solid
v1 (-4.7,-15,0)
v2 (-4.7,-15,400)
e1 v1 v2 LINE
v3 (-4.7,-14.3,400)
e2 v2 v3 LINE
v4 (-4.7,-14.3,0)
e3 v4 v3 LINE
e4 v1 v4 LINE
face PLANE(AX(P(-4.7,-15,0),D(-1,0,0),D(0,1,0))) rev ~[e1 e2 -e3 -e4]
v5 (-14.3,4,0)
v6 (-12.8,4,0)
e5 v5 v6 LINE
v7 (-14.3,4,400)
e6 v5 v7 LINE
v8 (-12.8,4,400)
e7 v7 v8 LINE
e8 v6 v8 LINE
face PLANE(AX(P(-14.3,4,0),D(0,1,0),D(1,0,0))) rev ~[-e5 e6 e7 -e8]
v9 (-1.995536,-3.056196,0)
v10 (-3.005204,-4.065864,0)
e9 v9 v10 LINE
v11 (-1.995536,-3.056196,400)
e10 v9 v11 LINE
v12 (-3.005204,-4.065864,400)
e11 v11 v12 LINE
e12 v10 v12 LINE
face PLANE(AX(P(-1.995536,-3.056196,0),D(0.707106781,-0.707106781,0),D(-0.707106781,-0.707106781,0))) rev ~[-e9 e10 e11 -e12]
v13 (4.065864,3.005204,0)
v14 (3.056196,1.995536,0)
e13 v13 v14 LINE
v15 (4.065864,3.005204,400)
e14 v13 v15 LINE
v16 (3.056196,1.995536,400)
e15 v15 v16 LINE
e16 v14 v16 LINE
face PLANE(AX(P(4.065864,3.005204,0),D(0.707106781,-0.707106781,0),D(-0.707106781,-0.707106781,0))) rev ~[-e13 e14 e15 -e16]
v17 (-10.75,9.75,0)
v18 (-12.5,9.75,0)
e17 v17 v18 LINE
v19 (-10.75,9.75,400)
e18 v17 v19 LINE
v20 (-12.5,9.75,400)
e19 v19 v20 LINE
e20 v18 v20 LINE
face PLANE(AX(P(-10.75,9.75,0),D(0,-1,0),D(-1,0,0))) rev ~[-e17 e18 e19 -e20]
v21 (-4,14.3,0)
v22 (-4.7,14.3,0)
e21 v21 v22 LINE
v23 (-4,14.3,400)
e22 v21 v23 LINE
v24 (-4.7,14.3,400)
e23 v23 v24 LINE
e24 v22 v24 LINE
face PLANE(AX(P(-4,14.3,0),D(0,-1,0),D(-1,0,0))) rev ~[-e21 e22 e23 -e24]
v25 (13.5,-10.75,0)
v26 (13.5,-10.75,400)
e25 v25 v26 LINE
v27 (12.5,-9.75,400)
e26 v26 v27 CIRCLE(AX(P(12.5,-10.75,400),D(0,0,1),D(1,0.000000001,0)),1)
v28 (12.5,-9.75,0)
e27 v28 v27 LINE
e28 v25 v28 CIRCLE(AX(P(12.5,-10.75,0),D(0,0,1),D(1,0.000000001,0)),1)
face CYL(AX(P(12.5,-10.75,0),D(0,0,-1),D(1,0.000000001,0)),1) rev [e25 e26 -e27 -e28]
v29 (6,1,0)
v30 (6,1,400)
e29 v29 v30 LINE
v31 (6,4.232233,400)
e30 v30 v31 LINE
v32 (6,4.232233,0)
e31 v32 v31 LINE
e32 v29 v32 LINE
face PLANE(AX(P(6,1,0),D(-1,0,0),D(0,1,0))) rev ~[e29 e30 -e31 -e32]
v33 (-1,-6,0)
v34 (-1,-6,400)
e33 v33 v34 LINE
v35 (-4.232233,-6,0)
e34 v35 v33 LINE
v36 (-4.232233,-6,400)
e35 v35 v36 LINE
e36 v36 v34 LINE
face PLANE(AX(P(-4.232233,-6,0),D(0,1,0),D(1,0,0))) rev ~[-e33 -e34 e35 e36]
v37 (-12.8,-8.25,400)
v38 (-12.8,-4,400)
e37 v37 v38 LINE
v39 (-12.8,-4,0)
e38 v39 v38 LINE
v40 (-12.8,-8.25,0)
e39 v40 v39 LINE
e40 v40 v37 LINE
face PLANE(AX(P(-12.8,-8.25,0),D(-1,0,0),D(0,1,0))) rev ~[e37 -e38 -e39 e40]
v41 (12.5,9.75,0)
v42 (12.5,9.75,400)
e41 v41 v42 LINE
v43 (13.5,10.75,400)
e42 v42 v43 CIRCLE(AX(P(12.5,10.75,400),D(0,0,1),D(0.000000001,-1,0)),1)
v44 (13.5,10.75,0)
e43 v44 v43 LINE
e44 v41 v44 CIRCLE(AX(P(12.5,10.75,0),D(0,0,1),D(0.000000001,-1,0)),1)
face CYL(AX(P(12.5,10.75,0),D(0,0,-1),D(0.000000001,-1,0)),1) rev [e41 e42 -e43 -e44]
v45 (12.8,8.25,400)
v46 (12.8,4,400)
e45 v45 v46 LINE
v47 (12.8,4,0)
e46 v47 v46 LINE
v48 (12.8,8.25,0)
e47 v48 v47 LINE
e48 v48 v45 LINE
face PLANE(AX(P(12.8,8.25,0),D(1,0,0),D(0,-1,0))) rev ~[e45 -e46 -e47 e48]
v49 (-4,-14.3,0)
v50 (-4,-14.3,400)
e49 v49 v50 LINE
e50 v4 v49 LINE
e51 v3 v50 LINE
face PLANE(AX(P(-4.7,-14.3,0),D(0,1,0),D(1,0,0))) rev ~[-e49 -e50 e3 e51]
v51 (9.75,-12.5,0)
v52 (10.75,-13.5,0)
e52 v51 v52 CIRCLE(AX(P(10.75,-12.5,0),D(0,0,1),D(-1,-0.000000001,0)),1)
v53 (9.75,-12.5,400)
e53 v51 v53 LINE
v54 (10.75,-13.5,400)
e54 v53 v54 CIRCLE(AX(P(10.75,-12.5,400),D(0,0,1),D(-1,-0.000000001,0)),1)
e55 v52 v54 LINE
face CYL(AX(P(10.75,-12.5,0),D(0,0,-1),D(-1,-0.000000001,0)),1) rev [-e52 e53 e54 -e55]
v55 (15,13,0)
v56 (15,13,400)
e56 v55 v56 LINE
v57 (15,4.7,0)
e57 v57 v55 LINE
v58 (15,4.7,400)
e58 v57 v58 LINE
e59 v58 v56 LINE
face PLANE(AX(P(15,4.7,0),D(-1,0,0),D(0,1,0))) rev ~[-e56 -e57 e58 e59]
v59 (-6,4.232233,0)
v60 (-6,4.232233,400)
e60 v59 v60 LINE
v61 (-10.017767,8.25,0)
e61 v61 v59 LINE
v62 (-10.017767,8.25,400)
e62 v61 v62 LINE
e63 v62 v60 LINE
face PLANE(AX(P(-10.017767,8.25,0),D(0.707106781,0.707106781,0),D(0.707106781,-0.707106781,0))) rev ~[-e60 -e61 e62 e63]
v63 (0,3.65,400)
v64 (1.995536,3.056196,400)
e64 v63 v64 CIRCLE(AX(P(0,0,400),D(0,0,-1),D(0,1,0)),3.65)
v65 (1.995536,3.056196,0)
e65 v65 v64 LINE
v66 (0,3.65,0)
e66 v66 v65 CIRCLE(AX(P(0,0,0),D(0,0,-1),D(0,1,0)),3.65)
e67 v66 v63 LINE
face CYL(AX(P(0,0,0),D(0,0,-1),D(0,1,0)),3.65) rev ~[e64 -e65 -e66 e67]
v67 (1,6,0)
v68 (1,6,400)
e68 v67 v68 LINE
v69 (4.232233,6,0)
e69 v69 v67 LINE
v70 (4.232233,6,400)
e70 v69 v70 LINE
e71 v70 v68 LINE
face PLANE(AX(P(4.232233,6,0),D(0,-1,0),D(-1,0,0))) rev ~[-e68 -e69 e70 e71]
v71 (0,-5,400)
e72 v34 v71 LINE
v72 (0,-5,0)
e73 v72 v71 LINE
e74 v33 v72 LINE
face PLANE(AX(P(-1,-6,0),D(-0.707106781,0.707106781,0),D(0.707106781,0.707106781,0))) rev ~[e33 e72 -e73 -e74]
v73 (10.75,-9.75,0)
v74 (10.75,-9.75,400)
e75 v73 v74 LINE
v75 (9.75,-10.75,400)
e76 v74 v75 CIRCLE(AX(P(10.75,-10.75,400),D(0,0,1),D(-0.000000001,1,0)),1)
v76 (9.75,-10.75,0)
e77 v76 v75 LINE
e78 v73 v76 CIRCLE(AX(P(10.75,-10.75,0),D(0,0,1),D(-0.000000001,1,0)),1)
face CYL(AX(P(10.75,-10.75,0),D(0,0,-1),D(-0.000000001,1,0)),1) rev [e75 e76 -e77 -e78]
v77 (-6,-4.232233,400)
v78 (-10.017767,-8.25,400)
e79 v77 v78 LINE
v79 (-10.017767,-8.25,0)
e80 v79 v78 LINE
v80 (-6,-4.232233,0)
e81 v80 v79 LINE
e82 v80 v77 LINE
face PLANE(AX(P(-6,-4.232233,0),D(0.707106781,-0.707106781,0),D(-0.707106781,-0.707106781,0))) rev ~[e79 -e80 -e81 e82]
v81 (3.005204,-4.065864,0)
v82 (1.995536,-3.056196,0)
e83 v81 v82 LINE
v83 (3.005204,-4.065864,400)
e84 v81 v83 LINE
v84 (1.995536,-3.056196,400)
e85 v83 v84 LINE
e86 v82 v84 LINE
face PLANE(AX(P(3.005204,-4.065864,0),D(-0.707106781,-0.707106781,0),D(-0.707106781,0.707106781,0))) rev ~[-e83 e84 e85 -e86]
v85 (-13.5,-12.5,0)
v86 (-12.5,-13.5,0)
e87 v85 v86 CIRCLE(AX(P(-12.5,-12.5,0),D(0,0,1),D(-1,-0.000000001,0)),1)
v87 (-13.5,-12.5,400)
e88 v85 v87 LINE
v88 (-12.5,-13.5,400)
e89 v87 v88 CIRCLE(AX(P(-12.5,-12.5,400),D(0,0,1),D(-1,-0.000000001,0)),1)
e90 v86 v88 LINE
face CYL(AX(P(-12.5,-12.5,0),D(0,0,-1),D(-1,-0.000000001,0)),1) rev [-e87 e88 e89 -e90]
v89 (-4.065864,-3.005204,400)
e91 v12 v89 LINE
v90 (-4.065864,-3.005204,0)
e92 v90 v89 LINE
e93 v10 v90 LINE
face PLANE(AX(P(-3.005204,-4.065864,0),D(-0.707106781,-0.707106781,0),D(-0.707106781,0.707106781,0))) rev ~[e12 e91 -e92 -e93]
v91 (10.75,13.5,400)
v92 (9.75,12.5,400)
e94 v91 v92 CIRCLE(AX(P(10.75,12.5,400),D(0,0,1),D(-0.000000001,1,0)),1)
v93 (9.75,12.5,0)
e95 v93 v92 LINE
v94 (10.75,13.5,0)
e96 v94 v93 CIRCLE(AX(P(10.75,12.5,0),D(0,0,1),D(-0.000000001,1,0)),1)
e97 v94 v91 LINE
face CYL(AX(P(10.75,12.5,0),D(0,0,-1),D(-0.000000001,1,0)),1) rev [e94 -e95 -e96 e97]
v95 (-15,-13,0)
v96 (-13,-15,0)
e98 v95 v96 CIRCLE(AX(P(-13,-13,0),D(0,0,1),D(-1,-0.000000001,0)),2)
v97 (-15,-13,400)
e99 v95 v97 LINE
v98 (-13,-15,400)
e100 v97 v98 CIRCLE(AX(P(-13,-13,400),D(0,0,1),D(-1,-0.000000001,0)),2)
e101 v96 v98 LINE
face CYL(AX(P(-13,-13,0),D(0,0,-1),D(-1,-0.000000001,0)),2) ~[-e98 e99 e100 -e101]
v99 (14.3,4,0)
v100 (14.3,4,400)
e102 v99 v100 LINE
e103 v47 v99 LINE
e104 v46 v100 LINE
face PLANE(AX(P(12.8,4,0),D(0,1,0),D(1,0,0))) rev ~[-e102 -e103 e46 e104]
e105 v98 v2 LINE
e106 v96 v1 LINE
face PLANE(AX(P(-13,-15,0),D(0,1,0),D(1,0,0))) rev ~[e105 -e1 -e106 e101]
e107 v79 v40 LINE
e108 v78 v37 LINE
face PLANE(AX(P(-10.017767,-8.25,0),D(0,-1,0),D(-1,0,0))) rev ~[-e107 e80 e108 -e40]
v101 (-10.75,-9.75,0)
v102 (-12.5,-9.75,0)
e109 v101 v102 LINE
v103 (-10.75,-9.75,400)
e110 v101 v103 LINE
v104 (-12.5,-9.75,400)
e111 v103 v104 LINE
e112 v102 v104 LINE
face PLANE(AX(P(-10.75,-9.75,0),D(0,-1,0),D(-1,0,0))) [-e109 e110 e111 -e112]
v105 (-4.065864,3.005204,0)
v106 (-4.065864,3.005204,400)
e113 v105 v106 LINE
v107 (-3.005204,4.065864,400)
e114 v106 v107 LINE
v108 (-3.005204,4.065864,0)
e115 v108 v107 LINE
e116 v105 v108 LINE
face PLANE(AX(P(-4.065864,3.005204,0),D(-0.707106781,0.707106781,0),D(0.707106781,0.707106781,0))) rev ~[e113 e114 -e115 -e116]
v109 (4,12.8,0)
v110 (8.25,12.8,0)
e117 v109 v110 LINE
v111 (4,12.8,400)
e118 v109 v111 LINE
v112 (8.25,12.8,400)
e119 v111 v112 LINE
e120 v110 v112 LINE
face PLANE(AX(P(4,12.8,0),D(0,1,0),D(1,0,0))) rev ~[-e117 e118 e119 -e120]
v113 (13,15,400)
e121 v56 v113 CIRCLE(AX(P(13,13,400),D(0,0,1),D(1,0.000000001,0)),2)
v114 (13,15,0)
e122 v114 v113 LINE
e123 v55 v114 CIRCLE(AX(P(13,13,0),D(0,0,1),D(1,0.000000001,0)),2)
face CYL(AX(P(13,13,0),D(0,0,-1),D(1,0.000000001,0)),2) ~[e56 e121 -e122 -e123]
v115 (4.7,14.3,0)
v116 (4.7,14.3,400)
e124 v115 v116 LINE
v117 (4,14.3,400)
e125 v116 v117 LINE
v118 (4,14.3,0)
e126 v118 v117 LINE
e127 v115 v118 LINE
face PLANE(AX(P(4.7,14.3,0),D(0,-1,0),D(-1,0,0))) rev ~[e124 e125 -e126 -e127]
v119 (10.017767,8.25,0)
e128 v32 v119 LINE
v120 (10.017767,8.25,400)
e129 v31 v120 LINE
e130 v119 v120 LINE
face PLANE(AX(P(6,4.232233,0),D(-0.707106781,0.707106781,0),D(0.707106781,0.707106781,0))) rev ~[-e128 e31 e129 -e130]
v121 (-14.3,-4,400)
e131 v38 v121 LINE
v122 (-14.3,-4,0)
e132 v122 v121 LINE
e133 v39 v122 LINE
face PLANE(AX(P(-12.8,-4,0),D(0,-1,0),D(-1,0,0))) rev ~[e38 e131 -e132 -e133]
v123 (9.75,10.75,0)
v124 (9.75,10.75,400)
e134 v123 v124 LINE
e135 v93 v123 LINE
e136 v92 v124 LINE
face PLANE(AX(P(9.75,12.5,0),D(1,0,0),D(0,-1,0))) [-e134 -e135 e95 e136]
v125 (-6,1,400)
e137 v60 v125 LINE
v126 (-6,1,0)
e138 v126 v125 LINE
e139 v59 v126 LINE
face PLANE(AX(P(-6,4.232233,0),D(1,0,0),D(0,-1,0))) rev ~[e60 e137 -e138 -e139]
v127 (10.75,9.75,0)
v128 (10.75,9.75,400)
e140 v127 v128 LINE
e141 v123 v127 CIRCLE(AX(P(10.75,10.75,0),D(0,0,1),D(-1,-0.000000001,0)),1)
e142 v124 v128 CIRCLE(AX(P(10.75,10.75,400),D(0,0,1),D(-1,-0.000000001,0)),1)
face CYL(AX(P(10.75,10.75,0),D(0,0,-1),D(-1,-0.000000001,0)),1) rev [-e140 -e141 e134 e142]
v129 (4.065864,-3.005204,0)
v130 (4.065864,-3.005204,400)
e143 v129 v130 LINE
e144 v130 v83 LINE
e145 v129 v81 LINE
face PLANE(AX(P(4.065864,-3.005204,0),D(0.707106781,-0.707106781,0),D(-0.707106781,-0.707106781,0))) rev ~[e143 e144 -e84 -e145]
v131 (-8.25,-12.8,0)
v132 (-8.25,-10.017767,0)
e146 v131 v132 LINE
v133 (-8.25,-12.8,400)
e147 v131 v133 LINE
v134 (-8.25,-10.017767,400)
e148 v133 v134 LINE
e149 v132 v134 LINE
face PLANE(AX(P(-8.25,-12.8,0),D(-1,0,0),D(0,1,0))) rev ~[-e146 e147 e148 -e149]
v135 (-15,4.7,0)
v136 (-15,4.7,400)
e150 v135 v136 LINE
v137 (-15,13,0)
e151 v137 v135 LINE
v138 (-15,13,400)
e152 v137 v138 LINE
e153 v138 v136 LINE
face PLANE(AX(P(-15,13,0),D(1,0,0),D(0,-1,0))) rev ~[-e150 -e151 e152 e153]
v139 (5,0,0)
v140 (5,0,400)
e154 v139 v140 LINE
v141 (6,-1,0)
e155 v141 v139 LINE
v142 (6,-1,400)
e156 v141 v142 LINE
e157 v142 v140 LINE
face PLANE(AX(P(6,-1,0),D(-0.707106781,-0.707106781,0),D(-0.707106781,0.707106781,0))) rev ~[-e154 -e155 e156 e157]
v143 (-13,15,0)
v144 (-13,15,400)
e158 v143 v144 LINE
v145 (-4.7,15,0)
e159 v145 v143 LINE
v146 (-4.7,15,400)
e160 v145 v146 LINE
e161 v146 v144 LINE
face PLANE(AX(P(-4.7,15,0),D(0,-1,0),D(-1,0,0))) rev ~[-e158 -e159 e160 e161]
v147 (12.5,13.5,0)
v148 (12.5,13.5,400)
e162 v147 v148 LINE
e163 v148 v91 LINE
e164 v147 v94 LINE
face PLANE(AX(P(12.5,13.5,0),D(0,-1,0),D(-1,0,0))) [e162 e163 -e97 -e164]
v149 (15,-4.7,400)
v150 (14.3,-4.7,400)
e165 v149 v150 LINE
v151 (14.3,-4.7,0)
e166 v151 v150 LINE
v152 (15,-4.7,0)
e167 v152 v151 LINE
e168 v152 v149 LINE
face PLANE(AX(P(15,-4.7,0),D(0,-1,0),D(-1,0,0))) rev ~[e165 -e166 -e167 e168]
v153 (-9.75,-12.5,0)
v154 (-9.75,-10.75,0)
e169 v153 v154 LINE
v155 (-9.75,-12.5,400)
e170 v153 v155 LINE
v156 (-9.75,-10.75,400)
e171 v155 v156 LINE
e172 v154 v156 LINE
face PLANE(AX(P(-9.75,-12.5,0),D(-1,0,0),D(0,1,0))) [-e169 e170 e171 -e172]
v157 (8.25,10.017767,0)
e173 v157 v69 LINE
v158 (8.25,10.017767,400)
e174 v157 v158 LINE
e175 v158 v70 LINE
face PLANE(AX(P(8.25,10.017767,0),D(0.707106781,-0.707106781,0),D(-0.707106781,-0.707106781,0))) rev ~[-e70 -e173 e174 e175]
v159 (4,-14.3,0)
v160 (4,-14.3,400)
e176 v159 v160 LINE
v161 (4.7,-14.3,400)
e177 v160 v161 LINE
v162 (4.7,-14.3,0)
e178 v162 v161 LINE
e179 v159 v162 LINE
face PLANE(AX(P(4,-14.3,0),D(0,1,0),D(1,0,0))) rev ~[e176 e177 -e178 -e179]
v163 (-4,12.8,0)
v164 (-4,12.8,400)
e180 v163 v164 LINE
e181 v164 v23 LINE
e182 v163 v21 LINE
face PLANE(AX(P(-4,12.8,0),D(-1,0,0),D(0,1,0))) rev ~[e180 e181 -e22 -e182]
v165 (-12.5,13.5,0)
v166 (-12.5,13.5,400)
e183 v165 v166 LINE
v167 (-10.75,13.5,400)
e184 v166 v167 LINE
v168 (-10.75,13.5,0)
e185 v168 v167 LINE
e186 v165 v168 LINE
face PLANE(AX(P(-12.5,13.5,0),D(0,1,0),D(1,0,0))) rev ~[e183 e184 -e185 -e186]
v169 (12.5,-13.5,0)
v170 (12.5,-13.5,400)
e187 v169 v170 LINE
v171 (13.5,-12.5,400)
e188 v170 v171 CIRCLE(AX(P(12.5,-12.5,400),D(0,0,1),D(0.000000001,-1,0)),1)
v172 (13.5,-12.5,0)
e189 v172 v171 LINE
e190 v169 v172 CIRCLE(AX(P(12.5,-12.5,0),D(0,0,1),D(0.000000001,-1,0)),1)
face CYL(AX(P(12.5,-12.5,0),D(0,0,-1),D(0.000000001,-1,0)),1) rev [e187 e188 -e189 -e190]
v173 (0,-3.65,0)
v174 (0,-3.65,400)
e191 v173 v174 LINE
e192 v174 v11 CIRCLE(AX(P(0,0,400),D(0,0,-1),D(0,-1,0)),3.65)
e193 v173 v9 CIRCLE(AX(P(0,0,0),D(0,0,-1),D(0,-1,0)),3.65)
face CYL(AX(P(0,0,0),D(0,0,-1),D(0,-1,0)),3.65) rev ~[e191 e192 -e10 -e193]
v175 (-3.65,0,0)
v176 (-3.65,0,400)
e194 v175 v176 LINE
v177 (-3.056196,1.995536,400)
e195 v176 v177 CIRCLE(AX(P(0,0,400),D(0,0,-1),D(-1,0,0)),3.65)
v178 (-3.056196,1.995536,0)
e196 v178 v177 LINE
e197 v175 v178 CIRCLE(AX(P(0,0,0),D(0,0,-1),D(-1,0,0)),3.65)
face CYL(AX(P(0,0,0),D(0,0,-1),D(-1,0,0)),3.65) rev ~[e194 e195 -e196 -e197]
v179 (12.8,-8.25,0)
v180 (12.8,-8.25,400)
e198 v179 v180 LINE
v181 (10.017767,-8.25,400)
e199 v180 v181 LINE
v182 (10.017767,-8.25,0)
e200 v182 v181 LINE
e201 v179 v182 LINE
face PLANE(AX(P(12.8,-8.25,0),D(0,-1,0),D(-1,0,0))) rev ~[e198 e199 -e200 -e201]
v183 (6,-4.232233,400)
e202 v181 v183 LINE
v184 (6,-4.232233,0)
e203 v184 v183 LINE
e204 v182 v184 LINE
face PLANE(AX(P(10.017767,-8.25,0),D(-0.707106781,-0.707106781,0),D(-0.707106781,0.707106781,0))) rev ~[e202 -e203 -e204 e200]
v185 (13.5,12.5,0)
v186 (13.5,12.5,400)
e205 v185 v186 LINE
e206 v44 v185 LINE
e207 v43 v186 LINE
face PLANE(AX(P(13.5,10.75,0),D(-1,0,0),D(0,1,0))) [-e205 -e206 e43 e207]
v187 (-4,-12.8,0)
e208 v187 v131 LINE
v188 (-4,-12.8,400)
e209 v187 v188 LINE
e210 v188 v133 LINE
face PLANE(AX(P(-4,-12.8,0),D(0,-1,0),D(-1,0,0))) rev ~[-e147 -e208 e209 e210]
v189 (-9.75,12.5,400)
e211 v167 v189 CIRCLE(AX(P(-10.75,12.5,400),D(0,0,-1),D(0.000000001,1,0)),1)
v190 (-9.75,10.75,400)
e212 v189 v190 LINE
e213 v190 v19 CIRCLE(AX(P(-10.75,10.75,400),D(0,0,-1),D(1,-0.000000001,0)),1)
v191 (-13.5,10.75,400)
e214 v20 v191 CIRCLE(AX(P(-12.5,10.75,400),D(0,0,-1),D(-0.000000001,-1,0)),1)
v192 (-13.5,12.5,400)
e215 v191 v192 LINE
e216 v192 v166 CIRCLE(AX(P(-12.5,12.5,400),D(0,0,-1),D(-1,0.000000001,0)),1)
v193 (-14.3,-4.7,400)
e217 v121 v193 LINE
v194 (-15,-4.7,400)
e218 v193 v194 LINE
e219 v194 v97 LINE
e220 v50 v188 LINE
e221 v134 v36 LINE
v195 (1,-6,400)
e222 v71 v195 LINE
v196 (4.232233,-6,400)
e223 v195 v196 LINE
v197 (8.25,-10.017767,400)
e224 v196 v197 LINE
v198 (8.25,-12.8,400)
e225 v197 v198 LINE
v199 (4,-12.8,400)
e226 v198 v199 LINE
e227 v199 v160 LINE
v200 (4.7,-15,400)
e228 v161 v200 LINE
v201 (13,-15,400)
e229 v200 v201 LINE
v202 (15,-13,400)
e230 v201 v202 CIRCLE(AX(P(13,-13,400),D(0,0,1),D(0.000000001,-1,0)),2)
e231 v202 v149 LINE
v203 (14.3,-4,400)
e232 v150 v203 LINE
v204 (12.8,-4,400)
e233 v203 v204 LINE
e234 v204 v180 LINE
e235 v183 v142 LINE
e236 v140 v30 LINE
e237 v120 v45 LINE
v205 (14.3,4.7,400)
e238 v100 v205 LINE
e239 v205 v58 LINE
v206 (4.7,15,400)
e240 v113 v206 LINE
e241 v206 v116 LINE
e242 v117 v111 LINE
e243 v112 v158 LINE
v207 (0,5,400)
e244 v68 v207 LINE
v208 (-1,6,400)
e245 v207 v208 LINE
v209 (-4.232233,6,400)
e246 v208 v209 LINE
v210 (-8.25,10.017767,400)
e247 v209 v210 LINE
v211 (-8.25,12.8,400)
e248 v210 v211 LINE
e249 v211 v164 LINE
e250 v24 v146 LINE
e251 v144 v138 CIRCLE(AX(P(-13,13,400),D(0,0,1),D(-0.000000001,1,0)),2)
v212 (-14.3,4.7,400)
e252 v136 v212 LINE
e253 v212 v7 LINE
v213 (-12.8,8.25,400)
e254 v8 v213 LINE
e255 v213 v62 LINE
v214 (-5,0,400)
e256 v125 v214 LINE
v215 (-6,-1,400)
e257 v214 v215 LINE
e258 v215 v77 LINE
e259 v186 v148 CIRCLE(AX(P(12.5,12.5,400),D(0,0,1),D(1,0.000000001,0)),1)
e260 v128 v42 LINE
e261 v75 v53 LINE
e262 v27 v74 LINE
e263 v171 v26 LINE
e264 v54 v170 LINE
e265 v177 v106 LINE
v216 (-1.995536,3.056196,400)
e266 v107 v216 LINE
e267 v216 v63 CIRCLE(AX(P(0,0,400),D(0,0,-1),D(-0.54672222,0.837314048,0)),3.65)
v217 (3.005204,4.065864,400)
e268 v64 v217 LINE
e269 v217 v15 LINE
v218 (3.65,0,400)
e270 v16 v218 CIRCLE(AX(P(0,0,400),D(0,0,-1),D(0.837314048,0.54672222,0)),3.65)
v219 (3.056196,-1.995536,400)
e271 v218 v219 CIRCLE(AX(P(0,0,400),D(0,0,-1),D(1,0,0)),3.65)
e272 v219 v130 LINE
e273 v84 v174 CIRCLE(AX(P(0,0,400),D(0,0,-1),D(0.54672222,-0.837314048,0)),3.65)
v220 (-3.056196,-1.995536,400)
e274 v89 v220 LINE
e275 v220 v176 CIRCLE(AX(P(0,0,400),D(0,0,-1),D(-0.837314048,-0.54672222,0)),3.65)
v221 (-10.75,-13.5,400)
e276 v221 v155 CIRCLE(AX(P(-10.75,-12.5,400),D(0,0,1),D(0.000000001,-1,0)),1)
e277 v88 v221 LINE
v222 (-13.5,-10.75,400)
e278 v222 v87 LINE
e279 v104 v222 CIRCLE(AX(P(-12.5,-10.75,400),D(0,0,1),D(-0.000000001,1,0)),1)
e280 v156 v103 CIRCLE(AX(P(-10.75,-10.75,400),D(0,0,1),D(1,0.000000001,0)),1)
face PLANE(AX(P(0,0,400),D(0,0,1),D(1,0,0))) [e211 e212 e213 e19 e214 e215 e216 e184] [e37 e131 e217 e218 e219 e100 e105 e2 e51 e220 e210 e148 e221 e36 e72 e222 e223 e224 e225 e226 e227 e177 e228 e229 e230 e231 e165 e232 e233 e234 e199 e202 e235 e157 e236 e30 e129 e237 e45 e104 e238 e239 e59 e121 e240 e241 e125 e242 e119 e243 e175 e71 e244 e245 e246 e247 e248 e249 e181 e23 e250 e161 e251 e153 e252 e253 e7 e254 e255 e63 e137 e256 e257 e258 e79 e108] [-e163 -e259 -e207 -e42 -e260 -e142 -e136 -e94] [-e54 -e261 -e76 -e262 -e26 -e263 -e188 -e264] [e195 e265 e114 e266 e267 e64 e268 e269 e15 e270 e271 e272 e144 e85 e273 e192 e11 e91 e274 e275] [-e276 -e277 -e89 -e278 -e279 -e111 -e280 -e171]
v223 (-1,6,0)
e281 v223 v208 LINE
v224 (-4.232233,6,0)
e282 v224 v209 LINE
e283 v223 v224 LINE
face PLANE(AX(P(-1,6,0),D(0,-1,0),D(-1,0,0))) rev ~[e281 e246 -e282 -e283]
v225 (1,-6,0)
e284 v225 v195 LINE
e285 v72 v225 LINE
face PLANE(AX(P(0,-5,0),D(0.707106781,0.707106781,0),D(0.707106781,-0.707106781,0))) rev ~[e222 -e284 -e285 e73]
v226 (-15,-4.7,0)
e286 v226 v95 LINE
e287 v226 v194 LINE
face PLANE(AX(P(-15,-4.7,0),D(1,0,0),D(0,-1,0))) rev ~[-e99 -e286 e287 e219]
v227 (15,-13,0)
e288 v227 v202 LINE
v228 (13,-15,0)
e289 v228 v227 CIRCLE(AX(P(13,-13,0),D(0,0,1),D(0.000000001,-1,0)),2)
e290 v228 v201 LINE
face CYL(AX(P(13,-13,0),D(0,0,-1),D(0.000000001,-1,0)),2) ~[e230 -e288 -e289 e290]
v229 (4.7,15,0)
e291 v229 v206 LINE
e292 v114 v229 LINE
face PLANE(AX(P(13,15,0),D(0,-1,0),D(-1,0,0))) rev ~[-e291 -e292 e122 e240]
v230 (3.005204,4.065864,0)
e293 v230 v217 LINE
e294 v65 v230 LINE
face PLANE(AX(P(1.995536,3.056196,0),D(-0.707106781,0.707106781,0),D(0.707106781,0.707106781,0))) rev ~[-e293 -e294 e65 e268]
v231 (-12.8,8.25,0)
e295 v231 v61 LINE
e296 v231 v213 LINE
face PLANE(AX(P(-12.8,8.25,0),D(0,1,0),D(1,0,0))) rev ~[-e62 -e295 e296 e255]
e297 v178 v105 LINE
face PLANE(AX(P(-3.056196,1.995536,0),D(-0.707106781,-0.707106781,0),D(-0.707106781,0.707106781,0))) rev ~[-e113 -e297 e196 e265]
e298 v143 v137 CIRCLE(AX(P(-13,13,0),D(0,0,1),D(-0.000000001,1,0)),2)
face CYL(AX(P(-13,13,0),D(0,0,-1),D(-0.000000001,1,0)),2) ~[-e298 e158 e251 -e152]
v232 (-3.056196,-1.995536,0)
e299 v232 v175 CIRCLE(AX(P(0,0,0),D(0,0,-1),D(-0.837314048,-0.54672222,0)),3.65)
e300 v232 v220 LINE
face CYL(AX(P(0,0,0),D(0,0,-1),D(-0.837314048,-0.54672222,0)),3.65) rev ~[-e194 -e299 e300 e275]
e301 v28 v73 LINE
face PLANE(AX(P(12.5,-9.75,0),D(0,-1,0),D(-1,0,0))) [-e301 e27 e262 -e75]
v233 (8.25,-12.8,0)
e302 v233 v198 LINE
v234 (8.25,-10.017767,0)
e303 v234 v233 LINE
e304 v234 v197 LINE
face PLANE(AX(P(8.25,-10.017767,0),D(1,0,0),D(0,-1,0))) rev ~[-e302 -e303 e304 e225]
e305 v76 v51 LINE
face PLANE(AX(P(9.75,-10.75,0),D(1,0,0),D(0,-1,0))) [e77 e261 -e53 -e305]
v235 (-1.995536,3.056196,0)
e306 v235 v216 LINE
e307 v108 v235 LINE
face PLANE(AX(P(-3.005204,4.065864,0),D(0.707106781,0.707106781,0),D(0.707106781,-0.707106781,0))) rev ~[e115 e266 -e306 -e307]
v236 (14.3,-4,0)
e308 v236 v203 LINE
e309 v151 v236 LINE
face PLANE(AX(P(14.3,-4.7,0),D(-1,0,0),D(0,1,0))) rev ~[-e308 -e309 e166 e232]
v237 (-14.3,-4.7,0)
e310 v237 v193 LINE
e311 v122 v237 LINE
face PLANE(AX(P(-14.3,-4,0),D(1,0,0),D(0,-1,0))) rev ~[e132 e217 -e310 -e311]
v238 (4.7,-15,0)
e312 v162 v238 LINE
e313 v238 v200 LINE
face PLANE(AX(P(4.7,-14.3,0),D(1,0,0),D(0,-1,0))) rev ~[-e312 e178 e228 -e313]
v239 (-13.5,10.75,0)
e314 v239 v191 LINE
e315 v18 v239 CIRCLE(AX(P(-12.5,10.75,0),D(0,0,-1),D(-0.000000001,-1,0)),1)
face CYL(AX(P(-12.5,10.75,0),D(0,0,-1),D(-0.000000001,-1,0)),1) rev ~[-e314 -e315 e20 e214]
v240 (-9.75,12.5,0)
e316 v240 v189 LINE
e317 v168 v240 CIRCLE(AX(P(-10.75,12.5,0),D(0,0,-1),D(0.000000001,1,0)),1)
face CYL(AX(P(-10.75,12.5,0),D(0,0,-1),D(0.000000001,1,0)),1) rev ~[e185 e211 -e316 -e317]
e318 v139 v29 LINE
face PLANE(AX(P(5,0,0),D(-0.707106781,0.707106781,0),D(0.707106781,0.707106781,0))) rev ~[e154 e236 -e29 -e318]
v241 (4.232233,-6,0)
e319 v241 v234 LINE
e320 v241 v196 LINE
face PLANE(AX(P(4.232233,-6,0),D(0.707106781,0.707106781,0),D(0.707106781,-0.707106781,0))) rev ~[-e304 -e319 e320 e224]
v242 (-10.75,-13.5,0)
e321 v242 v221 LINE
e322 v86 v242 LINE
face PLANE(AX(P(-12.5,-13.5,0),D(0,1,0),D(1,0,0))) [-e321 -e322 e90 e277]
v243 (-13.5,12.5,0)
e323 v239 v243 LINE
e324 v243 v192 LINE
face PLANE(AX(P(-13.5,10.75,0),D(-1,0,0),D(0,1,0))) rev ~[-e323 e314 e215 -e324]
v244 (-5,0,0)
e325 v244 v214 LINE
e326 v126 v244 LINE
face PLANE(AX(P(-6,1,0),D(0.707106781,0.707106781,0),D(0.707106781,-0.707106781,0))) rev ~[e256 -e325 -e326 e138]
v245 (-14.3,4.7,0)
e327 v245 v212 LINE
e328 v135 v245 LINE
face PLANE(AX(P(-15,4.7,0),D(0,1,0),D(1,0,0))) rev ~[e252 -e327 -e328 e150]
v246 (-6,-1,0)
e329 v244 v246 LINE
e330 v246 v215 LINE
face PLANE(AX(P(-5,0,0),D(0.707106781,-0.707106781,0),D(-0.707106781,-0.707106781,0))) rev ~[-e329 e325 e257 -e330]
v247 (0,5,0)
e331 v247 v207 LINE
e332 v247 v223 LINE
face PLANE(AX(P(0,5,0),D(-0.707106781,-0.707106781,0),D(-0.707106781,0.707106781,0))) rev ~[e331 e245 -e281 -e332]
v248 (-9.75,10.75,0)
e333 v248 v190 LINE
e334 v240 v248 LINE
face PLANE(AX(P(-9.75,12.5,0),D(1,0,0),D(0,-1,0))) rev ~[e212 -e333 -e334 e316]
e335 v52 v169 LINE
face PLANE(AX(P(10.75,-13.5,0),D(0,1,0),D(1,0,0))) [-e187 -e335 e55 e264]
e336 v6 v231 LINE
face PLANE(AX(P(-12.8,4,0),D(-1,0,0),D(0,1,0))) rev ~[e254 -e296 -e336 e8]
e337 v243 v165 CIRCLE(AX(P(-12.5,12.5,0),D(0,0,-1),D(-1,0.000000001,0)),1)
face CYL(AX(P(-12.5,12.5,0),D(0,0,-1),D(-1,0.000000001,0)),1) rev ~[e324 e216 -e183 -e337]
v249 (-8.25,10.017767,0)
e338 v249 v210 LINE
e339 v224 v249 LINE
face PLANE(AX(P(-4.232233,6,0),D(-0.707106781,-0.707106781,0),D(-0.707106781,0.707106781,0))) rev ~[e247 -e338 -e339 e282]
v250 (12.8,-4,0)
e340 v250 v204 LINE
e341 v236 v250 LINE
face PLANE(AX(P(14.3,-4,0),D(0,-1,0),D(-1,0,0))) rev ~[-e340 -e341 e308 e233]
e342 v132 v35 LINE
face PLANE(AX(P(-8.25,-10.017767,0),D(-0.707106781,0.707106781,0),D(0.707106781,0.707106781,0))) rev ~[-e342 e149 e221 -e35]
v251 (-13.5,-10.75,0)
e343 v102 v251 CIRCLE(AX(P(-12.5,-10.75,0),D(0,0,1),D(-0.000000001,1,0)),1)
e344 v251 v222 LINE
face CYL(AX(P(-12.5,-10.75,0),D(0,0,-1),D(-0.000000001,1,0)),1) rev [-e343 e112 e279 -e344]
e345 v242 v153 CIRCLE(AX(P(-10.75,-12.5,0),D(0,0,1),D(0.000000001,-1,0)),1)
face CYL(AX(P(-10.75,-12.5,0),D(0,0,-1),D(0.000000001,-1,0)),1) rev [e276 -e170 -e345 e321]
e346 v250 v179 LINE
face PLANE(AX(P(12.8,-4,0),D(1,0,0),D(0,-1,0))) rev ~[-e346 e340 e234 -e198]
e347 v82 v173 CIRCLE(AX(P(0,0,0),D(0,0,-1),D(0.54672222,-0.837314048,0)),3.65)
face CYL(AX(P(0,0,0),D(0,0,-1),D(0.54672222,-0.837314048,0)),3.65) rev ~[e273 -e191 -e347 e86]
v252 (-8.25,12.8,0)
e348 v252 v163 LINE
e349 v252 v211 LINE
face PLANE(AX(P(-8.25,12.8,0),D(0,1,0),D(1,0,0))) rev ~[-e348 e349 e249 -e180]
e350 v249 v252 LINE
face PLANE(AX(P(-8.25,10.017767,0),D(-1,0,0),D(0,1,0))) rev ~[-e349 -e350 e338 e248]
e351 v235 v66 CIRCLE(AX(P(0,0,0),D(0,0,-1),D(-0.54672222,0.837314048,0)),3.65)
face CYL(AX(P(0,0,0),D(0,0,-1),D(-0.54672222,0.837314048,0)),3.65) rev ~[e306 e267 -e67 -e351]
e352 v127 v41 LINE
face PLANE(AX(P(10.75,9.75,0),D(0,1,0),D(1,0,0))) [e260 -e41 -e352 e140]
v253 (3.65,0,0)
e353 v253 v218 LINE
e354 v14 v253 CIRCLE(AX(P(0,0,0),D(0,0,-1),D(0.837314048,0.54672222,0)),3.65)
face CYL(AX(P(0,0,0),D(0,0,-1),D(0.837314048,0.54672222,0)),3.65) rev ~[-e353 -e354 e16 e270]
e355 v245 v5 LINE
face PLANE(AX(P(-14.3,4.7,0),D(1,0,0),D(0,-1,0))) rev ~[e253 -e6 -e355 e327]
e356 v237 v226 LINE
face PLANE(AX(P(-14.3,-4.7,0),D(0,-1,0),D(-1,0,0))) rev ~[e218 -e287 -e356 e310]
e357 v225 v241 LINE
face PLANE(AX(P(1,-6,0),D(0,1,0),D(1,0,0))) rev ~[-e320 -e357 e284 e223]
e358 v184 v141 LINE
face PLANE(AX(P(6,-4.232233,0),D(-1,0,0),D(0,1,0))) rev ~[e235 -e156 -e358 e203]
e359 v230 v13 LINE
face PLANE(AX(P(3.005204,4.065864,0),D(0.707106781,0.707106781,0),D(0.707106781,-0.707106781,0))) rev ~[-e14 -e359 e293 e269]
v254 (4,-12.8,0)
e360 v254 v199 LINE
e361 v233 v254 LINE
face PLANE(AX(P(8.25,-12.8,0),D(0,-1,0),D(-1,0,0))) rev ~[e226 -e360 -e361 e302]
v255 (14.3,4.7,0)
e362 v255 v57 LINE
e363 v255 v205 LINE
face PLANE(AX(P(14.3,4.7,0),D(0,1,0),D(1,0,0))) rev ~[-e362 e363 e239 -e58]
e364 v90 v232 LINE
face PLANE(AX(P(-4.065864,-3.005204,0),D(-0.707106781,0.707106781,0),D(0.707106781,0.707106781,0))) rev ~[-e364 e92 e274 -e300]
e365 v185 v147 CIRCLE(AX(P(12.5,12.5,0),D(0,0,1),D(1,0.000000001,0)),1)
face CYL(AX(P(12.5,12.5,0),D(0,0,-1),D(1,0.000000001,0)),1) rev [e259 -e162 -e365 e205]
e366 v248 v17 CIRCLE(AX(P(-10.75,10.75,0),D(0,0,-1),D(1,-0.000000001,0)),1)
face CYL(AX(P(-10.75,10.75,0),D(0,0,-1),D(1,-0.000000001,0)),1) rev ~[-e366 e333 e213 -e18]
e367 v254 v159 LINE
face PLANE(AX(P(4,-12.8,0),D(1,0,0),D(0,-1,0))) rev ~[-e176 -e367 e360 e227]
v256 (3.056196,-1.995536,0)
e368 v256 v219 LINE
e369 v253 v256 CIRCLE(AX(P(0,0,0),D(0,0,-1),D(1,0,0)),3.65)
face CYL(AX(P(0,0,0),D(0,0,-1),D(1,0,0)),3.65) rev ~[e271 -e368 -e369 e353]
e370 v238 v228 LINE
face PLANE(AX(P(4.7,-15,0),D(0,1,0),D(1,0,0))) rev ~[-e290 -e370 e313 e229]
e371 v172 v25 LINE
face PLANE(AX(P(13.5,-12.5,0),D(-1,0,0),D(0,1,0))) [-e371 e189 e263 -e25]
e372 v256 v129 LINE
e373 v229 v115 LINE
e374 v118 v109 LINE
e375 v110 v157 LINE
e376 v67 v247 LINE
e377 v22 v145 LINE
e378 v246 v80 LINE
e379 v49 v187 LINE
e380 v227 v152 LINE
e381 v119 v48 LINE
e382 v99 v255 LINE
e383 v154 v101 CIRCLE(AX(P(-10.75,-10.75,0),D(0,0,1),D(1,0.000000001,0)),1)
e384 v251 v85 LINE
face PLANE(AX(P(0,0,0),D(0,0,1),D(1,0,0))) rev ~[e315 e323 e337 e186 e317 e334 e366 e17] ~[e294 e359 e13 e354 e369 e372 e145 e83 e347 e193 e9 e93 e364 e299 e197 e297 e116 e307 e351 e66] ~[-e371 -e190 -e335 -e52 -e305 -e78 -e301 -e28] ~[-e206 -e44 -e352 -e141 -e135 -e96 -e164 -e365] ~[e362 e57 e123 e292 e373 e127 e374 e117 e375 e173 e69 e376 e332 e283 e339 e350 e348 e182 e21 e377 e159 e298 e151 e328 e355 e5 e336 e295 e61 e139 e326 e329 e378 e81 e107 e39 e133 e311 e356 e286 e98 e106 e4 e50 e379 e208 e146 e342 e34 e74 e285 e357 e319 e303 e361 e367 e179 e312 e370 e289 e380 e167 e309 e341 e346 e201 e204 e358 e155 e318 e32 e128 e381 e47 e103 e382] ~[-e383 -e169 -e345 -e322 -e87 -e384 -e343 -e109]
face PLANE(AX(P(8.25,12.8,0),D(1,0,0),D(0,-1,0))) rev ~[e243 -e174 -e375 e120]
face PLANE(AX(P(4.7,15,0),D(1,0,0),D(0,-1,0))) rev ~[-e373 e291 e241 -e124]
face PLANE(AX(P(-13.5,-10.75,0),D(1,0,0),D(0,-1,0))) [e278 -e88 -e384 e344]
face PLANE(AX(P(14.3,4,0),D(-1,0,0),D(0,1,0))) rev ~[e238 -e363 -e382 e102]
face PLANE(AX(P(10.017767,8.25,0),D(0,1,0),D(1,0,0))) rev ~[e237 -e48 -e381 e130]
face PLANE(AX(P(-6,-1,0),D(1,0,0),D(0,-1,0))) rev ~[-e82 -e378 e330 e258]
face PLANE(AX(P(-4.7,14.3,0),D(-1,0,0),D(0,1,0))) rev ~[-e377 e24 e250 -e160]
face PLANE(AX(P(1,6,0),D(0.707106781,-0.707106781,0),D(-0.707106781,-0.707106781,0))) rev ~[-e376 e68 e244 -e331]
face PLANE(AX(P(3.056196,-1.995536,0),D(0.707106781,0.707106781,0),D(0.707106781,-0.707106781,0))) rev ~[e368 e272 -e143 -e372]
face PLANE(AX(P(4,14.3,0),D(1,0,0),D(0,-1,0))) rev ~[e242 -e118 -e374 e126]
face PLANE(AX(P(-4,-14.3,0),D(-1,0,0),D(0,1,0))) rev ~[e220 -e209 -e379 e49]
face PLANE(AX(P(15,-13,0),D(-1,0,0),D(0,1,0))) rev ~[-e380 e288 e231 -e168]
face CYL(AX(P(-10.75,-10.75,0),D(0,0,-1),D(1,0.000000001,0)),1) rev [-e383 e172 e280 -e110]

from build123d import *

# Parameters (mm, degrees)
ESTRUSIONE_ESTRUSIONE2_DEPTH = 400


with BuildPart() as part:
    # Schizzo1 → Estrusione-Estrusione2 (new body)
    with BuildSketch(Plane.XY):
        with BuildLine():
            Line((-15, 13), (-15, 4.7))
            Line((-15, 4.7), (-14.3, 4.7))
            Line((-14.3, 4.7), (-14.3, 4))
            Line((-14.3, 4), (-12.8, 4))
            Line((-12.8, 4), (-12.8, 8.25))
            Line((-12.8, 8.25), (-10.017766953, 8.25))
            Line((-10.017766953, 8.25), (-6, 4.232233047))
            Line((-6, 4.232233047), (-6, 1))
            Line((-6, 1), (-5, 0))
            Line((-5, 0), (-6, -1))
            Line((-6, -1), (-6, -4.232233047))
            Line((-6, -4.232233047), (-10.017766953, -8.25))
            Line((-10.017766953, -8.25), (-12.8, -8.25))
            Line((-12.8, -8.25), (-12.8, -4))
            Line((-12.8, -4), (-14.3, -4))
            Line((-14.3, -4), (-14.3, -4.7))
            Line((-14.3, -4.7), (-15, -4.7))
            Line((-15, -4.7), (-15, -13))
            ThreePointArc((-15, -13), (-14.414213562, -14.414213562), (-13, -15))
            Line((-13, -15), (-4.7, -15))
            Line((-4.7, -15), (-4.7, -14.3))
            Line((-4.7, -14.3), (-4, -14.3))
            Line((-4, -14.3), (-4, -12.8))
            Line((-4, -12.8), (-8.25, -12.8))
            Line((-8.25, -12.8), (-8.25, -10.017766953))
            Line((-8.25, -10.017766953), (-4.232233047, -6))
            Line((-4.232233047, -6), (-1, -6))
            Line((-1, -6), (0, -5))
            Line((0, -5), (1, -6))
            Line((1, -6), (4.232233047, -6))
            Line((4.232233047, -6), (8.25, -10.017766953))
            Line((8.25, -10.017766953), (8.25, -12.8))
            Line((8.25, -12.8), (4, -12.8))
            Line((4, -12.8), (4, -14.3))
            Line((4, -14.3), (4.7, -14.3))
            Line((4.7, -14.3), (4.7, -15))
            Line((4.7, -15), (13, -15))
            ThreePointArc((13, -15), (14.414213562, -14.414213562), (15, -13))
            Line((15, -13), (15, -4.7))
            Line((15, -4.7), (14.3, -4.7))
            Line((14.3, -4.7), (14.3, -4))
            Line((14.3, -4), (12.8, -4))
            Line((12.8, -4), (12.8, -8.25))
            Line((12.8, -8.25), (10.017766953, -8.25))
            Line((10.017766953, -8.25), (6, -4.232233047))
            Line((6, -4.232233047), (6, -1))
            Line((6, -1), (5, 0))
            Line((5, 0), (6, 1))
            Line((6, 1), (6, 4.232233047))
            Line((6, 4.232233047), (10.017766953, 8.25))
            Line((10.017766953, 8.25), (12.8, 8.25))
            Line((12.8, 8.25), (12.8, 4))
            Line((12.8, 4), (14.3, 4))
            Line((14.3, 4), (14.3, 4.7))
            Line((14.3, 4.7), (15, 4.7))
            Line((15, 4.7), (15, 13))
            ThreePointArc((15, 13), (14.414213562, 14.414213562), (13, 15))
            Line((13, 15), (4.7, 15))
            Line((4.7, 15), (4.7, 14.3))
            Line((4.7, 14.3), (4, 14.3))
            Line((4, 14.3), (4, 12.8))
            Line((4, 12.8), (8.25, 12.8))
            Line((8.25, 12.8), (8.25, 10.017766953))
            Line((8.25, 10.017766953), (4.232233047, 6))
            Line((4.232233047, 6), (1, 6))
            Line((1, 6), (0, 5))
            Line((0, 5), (-1, 6))
            Line((-1, 6), (-4.232233047, 6))
            Line((-4.232233047, 6), (-8.25, 10.017766953))
            Line((-8.25, 10.017766953), (-8.25, 12.8))
            Line((-8.25, 12.8), (-4, 12.8))
            Line((-4, 12.8), (-4, 14.3))
            Line((-4, 14.3), (-4.7, 14.3))
            Line((-4.7, 14.3), (-4.7, 15))
            Line((-4.7, 15), (-13, 15))
            ThreePointArc((-13, 15), (-14.414213562, 14.414213562), (-15, 13))
        make_face()
        with BuildLine():
            Line((13.5, 10.75), (13.5, 12.5))
            ThreePointArc((13.5, 12.5), (13.207106781, 13.207106781), (12.5, 13.5))
            Line((12.5, 13.5), (10.75, 13.5))
            ThreePointArc((10.75, 13.5), (10.042893219, 13.207106781), (9.75, 12.5))
            Line((9.75, 12.5), (9.75, 10.75))
            ThreePointArc((9.75, 10.75), (10.042893219, 10.042893219), (10.75, 9.75))
            Line((10.75, 9.75), (12.5, 9.75))
            ThreePointArc((12.5, 9.75), (13.207106781, 10.042893219), (13.5, 10.75))
        make_face(mode=Mode.SUBTRACT)
        with BuildLine():
            Line((10.75, -13.5), (12.5, -13.5))
            ThreePointArc((12.5, -13.5), (13.207106781, -13.207106781), (13.5, -12.5))
            Line((13.5, -12.5), (13.5, -10.75))
            ThreePointArc((13.5, -10.75), (13.207106781, -10.042893219), (12.5, -9.75))
            Line((12.5, -9.75), (10.75, -9.75))
            ThreePointArc((10.75, -9.75), (10.042893219, -10.042893219), (9.75, -10.75))
            Line((9.75, -10.75), (9.75, -12.5))
            ThreePointArc((9.75, -12.5), (10.042893219, -13.207106781), (10.75, -13.5))
        make_face(mode=Mode.SUBTRACT)
        with BuildLine():
            Line((-13.5, -10.75), (-13.5, -12.5))
            ThreePointArc((-13.5, -12.5), (-13.207106781, -13.207106781), (-12.5, -13.5))
            Line((-12.5, -13.5), (-10.75, -13.5))
            ThreePointArc((-10.75, -13.5), (-10.042893219, -13.207106781), (-9.75, -12.5))
            Line((-9.75, -12.5), (-9.75, -10.75))
            ThreePointArc((-9.75, -10.75), (-10.042893219, -10.042893219), (-10.75, -9.75))
            Line((-10.75, -9.75), (-12.5, -9.75))
            ThreePointArc((-12.5, -9.75), (-13.207106781, -10.042893219), (-13.5, -10.75))
        make_face(mode=Mode.SUBTRACT)
        with BuildLine():
            Line((1.995536102, 3.056196274), (3.00520382, 4.065863992))
            Line((3.00520382, 4.065863992), (4.065863992, 3.00520382))
            Line((4.065863992, 3.00520382), (3.056196274, 1.995536102))
            ThreePointArc((3.056196274, 1.995536102), (3.498400806, 1.041005187), (3.65, 0))
            ThreePointArc((3.65, 0), (3.498400806, -1.041005187), (3.056196274, -1.995536102))
            Line((3.056196274, -1.995536102), (4.065863992, -3.00520382))
            Line((4.065863992, -3.00520382), (3.00520382, -4.065863992))
            Line((3.00520382, -4.065863992), (1.995536102, -3.056196274))
            ThreePointArc((1.995536102, -3.056196274), (1.041005187, -3.498400806), (0, -3.65))
            ThreePointArc((0, -3.65), (-1.041005187, -3.498400806), (-1.995536102, -3.056196274))
            Line((-1.995536102, -3.056196274), (-3.00520382, -4.065863992))
            Line((-3.00520382, -4.065863992), (-4.065863992, -3.00520382))
            Line((-4.065863992, -3.00520382), (-3.056196274, -1.995536102))
            ThreePointArc((-3.056196274, -1.995536102), (-3.498400806, -1.041005187), (-3.65, 0))
            ThreePointArc((-3.65, 0), (-3.498400806, 1.041005187), (-3.056196274, 1.995536102))
            Line((-3.056196274, 1.995536102), (-4.065863992, 3.00520382))
            Line((-4.065863992, 3.00520382), (-3.00520382, 4.065863992))
            Line((-3.00520382, 4.065863992), (-1.995536102, 3.056196274))
            ThreePointArc((-1.995536102, 3.056196274), (-1.041005187, 3.498400806), (0, 3.65))
            ThreePointArc((0, 3.65), (1.041005187, 3.498400806), (1.995536102, 3.056196274))
        make_face(mode=Mode.SUBTRACT)
        with BuildLine():
            Line((-10.75, 9.75), (-12.5, 9.75))
            ThreePointArc((-12.5, 9.75), (-13.207106781, 10.042893219), (-13.5, 10.75))
            Line((-13.5, 10.75), (-13.5, 12.5))
            ThreePointArc((-13.5, 12.5), (-13.207106781, 13.207106781), (-12.5, 13.5))
            Line((-12.5, 13.5), (-10.75, 13.5))
            ThreePointArc((-10.75, 13.5), (-10.042893219, 13.207106781), (-9.75, 12.5))
            Line((-9.75, 12.5), (-9.75, 10.75))
            ThreePointArc((-9.75, 10.75), (-10.042893219, 10.042893219), (-10.75, 9.75))
        make_face(mode=Mode.SUBTRACT)
    extrude(amount=ESTRUSIONE_ESTRUSIONE2_DEPTH)


solid = part.part
